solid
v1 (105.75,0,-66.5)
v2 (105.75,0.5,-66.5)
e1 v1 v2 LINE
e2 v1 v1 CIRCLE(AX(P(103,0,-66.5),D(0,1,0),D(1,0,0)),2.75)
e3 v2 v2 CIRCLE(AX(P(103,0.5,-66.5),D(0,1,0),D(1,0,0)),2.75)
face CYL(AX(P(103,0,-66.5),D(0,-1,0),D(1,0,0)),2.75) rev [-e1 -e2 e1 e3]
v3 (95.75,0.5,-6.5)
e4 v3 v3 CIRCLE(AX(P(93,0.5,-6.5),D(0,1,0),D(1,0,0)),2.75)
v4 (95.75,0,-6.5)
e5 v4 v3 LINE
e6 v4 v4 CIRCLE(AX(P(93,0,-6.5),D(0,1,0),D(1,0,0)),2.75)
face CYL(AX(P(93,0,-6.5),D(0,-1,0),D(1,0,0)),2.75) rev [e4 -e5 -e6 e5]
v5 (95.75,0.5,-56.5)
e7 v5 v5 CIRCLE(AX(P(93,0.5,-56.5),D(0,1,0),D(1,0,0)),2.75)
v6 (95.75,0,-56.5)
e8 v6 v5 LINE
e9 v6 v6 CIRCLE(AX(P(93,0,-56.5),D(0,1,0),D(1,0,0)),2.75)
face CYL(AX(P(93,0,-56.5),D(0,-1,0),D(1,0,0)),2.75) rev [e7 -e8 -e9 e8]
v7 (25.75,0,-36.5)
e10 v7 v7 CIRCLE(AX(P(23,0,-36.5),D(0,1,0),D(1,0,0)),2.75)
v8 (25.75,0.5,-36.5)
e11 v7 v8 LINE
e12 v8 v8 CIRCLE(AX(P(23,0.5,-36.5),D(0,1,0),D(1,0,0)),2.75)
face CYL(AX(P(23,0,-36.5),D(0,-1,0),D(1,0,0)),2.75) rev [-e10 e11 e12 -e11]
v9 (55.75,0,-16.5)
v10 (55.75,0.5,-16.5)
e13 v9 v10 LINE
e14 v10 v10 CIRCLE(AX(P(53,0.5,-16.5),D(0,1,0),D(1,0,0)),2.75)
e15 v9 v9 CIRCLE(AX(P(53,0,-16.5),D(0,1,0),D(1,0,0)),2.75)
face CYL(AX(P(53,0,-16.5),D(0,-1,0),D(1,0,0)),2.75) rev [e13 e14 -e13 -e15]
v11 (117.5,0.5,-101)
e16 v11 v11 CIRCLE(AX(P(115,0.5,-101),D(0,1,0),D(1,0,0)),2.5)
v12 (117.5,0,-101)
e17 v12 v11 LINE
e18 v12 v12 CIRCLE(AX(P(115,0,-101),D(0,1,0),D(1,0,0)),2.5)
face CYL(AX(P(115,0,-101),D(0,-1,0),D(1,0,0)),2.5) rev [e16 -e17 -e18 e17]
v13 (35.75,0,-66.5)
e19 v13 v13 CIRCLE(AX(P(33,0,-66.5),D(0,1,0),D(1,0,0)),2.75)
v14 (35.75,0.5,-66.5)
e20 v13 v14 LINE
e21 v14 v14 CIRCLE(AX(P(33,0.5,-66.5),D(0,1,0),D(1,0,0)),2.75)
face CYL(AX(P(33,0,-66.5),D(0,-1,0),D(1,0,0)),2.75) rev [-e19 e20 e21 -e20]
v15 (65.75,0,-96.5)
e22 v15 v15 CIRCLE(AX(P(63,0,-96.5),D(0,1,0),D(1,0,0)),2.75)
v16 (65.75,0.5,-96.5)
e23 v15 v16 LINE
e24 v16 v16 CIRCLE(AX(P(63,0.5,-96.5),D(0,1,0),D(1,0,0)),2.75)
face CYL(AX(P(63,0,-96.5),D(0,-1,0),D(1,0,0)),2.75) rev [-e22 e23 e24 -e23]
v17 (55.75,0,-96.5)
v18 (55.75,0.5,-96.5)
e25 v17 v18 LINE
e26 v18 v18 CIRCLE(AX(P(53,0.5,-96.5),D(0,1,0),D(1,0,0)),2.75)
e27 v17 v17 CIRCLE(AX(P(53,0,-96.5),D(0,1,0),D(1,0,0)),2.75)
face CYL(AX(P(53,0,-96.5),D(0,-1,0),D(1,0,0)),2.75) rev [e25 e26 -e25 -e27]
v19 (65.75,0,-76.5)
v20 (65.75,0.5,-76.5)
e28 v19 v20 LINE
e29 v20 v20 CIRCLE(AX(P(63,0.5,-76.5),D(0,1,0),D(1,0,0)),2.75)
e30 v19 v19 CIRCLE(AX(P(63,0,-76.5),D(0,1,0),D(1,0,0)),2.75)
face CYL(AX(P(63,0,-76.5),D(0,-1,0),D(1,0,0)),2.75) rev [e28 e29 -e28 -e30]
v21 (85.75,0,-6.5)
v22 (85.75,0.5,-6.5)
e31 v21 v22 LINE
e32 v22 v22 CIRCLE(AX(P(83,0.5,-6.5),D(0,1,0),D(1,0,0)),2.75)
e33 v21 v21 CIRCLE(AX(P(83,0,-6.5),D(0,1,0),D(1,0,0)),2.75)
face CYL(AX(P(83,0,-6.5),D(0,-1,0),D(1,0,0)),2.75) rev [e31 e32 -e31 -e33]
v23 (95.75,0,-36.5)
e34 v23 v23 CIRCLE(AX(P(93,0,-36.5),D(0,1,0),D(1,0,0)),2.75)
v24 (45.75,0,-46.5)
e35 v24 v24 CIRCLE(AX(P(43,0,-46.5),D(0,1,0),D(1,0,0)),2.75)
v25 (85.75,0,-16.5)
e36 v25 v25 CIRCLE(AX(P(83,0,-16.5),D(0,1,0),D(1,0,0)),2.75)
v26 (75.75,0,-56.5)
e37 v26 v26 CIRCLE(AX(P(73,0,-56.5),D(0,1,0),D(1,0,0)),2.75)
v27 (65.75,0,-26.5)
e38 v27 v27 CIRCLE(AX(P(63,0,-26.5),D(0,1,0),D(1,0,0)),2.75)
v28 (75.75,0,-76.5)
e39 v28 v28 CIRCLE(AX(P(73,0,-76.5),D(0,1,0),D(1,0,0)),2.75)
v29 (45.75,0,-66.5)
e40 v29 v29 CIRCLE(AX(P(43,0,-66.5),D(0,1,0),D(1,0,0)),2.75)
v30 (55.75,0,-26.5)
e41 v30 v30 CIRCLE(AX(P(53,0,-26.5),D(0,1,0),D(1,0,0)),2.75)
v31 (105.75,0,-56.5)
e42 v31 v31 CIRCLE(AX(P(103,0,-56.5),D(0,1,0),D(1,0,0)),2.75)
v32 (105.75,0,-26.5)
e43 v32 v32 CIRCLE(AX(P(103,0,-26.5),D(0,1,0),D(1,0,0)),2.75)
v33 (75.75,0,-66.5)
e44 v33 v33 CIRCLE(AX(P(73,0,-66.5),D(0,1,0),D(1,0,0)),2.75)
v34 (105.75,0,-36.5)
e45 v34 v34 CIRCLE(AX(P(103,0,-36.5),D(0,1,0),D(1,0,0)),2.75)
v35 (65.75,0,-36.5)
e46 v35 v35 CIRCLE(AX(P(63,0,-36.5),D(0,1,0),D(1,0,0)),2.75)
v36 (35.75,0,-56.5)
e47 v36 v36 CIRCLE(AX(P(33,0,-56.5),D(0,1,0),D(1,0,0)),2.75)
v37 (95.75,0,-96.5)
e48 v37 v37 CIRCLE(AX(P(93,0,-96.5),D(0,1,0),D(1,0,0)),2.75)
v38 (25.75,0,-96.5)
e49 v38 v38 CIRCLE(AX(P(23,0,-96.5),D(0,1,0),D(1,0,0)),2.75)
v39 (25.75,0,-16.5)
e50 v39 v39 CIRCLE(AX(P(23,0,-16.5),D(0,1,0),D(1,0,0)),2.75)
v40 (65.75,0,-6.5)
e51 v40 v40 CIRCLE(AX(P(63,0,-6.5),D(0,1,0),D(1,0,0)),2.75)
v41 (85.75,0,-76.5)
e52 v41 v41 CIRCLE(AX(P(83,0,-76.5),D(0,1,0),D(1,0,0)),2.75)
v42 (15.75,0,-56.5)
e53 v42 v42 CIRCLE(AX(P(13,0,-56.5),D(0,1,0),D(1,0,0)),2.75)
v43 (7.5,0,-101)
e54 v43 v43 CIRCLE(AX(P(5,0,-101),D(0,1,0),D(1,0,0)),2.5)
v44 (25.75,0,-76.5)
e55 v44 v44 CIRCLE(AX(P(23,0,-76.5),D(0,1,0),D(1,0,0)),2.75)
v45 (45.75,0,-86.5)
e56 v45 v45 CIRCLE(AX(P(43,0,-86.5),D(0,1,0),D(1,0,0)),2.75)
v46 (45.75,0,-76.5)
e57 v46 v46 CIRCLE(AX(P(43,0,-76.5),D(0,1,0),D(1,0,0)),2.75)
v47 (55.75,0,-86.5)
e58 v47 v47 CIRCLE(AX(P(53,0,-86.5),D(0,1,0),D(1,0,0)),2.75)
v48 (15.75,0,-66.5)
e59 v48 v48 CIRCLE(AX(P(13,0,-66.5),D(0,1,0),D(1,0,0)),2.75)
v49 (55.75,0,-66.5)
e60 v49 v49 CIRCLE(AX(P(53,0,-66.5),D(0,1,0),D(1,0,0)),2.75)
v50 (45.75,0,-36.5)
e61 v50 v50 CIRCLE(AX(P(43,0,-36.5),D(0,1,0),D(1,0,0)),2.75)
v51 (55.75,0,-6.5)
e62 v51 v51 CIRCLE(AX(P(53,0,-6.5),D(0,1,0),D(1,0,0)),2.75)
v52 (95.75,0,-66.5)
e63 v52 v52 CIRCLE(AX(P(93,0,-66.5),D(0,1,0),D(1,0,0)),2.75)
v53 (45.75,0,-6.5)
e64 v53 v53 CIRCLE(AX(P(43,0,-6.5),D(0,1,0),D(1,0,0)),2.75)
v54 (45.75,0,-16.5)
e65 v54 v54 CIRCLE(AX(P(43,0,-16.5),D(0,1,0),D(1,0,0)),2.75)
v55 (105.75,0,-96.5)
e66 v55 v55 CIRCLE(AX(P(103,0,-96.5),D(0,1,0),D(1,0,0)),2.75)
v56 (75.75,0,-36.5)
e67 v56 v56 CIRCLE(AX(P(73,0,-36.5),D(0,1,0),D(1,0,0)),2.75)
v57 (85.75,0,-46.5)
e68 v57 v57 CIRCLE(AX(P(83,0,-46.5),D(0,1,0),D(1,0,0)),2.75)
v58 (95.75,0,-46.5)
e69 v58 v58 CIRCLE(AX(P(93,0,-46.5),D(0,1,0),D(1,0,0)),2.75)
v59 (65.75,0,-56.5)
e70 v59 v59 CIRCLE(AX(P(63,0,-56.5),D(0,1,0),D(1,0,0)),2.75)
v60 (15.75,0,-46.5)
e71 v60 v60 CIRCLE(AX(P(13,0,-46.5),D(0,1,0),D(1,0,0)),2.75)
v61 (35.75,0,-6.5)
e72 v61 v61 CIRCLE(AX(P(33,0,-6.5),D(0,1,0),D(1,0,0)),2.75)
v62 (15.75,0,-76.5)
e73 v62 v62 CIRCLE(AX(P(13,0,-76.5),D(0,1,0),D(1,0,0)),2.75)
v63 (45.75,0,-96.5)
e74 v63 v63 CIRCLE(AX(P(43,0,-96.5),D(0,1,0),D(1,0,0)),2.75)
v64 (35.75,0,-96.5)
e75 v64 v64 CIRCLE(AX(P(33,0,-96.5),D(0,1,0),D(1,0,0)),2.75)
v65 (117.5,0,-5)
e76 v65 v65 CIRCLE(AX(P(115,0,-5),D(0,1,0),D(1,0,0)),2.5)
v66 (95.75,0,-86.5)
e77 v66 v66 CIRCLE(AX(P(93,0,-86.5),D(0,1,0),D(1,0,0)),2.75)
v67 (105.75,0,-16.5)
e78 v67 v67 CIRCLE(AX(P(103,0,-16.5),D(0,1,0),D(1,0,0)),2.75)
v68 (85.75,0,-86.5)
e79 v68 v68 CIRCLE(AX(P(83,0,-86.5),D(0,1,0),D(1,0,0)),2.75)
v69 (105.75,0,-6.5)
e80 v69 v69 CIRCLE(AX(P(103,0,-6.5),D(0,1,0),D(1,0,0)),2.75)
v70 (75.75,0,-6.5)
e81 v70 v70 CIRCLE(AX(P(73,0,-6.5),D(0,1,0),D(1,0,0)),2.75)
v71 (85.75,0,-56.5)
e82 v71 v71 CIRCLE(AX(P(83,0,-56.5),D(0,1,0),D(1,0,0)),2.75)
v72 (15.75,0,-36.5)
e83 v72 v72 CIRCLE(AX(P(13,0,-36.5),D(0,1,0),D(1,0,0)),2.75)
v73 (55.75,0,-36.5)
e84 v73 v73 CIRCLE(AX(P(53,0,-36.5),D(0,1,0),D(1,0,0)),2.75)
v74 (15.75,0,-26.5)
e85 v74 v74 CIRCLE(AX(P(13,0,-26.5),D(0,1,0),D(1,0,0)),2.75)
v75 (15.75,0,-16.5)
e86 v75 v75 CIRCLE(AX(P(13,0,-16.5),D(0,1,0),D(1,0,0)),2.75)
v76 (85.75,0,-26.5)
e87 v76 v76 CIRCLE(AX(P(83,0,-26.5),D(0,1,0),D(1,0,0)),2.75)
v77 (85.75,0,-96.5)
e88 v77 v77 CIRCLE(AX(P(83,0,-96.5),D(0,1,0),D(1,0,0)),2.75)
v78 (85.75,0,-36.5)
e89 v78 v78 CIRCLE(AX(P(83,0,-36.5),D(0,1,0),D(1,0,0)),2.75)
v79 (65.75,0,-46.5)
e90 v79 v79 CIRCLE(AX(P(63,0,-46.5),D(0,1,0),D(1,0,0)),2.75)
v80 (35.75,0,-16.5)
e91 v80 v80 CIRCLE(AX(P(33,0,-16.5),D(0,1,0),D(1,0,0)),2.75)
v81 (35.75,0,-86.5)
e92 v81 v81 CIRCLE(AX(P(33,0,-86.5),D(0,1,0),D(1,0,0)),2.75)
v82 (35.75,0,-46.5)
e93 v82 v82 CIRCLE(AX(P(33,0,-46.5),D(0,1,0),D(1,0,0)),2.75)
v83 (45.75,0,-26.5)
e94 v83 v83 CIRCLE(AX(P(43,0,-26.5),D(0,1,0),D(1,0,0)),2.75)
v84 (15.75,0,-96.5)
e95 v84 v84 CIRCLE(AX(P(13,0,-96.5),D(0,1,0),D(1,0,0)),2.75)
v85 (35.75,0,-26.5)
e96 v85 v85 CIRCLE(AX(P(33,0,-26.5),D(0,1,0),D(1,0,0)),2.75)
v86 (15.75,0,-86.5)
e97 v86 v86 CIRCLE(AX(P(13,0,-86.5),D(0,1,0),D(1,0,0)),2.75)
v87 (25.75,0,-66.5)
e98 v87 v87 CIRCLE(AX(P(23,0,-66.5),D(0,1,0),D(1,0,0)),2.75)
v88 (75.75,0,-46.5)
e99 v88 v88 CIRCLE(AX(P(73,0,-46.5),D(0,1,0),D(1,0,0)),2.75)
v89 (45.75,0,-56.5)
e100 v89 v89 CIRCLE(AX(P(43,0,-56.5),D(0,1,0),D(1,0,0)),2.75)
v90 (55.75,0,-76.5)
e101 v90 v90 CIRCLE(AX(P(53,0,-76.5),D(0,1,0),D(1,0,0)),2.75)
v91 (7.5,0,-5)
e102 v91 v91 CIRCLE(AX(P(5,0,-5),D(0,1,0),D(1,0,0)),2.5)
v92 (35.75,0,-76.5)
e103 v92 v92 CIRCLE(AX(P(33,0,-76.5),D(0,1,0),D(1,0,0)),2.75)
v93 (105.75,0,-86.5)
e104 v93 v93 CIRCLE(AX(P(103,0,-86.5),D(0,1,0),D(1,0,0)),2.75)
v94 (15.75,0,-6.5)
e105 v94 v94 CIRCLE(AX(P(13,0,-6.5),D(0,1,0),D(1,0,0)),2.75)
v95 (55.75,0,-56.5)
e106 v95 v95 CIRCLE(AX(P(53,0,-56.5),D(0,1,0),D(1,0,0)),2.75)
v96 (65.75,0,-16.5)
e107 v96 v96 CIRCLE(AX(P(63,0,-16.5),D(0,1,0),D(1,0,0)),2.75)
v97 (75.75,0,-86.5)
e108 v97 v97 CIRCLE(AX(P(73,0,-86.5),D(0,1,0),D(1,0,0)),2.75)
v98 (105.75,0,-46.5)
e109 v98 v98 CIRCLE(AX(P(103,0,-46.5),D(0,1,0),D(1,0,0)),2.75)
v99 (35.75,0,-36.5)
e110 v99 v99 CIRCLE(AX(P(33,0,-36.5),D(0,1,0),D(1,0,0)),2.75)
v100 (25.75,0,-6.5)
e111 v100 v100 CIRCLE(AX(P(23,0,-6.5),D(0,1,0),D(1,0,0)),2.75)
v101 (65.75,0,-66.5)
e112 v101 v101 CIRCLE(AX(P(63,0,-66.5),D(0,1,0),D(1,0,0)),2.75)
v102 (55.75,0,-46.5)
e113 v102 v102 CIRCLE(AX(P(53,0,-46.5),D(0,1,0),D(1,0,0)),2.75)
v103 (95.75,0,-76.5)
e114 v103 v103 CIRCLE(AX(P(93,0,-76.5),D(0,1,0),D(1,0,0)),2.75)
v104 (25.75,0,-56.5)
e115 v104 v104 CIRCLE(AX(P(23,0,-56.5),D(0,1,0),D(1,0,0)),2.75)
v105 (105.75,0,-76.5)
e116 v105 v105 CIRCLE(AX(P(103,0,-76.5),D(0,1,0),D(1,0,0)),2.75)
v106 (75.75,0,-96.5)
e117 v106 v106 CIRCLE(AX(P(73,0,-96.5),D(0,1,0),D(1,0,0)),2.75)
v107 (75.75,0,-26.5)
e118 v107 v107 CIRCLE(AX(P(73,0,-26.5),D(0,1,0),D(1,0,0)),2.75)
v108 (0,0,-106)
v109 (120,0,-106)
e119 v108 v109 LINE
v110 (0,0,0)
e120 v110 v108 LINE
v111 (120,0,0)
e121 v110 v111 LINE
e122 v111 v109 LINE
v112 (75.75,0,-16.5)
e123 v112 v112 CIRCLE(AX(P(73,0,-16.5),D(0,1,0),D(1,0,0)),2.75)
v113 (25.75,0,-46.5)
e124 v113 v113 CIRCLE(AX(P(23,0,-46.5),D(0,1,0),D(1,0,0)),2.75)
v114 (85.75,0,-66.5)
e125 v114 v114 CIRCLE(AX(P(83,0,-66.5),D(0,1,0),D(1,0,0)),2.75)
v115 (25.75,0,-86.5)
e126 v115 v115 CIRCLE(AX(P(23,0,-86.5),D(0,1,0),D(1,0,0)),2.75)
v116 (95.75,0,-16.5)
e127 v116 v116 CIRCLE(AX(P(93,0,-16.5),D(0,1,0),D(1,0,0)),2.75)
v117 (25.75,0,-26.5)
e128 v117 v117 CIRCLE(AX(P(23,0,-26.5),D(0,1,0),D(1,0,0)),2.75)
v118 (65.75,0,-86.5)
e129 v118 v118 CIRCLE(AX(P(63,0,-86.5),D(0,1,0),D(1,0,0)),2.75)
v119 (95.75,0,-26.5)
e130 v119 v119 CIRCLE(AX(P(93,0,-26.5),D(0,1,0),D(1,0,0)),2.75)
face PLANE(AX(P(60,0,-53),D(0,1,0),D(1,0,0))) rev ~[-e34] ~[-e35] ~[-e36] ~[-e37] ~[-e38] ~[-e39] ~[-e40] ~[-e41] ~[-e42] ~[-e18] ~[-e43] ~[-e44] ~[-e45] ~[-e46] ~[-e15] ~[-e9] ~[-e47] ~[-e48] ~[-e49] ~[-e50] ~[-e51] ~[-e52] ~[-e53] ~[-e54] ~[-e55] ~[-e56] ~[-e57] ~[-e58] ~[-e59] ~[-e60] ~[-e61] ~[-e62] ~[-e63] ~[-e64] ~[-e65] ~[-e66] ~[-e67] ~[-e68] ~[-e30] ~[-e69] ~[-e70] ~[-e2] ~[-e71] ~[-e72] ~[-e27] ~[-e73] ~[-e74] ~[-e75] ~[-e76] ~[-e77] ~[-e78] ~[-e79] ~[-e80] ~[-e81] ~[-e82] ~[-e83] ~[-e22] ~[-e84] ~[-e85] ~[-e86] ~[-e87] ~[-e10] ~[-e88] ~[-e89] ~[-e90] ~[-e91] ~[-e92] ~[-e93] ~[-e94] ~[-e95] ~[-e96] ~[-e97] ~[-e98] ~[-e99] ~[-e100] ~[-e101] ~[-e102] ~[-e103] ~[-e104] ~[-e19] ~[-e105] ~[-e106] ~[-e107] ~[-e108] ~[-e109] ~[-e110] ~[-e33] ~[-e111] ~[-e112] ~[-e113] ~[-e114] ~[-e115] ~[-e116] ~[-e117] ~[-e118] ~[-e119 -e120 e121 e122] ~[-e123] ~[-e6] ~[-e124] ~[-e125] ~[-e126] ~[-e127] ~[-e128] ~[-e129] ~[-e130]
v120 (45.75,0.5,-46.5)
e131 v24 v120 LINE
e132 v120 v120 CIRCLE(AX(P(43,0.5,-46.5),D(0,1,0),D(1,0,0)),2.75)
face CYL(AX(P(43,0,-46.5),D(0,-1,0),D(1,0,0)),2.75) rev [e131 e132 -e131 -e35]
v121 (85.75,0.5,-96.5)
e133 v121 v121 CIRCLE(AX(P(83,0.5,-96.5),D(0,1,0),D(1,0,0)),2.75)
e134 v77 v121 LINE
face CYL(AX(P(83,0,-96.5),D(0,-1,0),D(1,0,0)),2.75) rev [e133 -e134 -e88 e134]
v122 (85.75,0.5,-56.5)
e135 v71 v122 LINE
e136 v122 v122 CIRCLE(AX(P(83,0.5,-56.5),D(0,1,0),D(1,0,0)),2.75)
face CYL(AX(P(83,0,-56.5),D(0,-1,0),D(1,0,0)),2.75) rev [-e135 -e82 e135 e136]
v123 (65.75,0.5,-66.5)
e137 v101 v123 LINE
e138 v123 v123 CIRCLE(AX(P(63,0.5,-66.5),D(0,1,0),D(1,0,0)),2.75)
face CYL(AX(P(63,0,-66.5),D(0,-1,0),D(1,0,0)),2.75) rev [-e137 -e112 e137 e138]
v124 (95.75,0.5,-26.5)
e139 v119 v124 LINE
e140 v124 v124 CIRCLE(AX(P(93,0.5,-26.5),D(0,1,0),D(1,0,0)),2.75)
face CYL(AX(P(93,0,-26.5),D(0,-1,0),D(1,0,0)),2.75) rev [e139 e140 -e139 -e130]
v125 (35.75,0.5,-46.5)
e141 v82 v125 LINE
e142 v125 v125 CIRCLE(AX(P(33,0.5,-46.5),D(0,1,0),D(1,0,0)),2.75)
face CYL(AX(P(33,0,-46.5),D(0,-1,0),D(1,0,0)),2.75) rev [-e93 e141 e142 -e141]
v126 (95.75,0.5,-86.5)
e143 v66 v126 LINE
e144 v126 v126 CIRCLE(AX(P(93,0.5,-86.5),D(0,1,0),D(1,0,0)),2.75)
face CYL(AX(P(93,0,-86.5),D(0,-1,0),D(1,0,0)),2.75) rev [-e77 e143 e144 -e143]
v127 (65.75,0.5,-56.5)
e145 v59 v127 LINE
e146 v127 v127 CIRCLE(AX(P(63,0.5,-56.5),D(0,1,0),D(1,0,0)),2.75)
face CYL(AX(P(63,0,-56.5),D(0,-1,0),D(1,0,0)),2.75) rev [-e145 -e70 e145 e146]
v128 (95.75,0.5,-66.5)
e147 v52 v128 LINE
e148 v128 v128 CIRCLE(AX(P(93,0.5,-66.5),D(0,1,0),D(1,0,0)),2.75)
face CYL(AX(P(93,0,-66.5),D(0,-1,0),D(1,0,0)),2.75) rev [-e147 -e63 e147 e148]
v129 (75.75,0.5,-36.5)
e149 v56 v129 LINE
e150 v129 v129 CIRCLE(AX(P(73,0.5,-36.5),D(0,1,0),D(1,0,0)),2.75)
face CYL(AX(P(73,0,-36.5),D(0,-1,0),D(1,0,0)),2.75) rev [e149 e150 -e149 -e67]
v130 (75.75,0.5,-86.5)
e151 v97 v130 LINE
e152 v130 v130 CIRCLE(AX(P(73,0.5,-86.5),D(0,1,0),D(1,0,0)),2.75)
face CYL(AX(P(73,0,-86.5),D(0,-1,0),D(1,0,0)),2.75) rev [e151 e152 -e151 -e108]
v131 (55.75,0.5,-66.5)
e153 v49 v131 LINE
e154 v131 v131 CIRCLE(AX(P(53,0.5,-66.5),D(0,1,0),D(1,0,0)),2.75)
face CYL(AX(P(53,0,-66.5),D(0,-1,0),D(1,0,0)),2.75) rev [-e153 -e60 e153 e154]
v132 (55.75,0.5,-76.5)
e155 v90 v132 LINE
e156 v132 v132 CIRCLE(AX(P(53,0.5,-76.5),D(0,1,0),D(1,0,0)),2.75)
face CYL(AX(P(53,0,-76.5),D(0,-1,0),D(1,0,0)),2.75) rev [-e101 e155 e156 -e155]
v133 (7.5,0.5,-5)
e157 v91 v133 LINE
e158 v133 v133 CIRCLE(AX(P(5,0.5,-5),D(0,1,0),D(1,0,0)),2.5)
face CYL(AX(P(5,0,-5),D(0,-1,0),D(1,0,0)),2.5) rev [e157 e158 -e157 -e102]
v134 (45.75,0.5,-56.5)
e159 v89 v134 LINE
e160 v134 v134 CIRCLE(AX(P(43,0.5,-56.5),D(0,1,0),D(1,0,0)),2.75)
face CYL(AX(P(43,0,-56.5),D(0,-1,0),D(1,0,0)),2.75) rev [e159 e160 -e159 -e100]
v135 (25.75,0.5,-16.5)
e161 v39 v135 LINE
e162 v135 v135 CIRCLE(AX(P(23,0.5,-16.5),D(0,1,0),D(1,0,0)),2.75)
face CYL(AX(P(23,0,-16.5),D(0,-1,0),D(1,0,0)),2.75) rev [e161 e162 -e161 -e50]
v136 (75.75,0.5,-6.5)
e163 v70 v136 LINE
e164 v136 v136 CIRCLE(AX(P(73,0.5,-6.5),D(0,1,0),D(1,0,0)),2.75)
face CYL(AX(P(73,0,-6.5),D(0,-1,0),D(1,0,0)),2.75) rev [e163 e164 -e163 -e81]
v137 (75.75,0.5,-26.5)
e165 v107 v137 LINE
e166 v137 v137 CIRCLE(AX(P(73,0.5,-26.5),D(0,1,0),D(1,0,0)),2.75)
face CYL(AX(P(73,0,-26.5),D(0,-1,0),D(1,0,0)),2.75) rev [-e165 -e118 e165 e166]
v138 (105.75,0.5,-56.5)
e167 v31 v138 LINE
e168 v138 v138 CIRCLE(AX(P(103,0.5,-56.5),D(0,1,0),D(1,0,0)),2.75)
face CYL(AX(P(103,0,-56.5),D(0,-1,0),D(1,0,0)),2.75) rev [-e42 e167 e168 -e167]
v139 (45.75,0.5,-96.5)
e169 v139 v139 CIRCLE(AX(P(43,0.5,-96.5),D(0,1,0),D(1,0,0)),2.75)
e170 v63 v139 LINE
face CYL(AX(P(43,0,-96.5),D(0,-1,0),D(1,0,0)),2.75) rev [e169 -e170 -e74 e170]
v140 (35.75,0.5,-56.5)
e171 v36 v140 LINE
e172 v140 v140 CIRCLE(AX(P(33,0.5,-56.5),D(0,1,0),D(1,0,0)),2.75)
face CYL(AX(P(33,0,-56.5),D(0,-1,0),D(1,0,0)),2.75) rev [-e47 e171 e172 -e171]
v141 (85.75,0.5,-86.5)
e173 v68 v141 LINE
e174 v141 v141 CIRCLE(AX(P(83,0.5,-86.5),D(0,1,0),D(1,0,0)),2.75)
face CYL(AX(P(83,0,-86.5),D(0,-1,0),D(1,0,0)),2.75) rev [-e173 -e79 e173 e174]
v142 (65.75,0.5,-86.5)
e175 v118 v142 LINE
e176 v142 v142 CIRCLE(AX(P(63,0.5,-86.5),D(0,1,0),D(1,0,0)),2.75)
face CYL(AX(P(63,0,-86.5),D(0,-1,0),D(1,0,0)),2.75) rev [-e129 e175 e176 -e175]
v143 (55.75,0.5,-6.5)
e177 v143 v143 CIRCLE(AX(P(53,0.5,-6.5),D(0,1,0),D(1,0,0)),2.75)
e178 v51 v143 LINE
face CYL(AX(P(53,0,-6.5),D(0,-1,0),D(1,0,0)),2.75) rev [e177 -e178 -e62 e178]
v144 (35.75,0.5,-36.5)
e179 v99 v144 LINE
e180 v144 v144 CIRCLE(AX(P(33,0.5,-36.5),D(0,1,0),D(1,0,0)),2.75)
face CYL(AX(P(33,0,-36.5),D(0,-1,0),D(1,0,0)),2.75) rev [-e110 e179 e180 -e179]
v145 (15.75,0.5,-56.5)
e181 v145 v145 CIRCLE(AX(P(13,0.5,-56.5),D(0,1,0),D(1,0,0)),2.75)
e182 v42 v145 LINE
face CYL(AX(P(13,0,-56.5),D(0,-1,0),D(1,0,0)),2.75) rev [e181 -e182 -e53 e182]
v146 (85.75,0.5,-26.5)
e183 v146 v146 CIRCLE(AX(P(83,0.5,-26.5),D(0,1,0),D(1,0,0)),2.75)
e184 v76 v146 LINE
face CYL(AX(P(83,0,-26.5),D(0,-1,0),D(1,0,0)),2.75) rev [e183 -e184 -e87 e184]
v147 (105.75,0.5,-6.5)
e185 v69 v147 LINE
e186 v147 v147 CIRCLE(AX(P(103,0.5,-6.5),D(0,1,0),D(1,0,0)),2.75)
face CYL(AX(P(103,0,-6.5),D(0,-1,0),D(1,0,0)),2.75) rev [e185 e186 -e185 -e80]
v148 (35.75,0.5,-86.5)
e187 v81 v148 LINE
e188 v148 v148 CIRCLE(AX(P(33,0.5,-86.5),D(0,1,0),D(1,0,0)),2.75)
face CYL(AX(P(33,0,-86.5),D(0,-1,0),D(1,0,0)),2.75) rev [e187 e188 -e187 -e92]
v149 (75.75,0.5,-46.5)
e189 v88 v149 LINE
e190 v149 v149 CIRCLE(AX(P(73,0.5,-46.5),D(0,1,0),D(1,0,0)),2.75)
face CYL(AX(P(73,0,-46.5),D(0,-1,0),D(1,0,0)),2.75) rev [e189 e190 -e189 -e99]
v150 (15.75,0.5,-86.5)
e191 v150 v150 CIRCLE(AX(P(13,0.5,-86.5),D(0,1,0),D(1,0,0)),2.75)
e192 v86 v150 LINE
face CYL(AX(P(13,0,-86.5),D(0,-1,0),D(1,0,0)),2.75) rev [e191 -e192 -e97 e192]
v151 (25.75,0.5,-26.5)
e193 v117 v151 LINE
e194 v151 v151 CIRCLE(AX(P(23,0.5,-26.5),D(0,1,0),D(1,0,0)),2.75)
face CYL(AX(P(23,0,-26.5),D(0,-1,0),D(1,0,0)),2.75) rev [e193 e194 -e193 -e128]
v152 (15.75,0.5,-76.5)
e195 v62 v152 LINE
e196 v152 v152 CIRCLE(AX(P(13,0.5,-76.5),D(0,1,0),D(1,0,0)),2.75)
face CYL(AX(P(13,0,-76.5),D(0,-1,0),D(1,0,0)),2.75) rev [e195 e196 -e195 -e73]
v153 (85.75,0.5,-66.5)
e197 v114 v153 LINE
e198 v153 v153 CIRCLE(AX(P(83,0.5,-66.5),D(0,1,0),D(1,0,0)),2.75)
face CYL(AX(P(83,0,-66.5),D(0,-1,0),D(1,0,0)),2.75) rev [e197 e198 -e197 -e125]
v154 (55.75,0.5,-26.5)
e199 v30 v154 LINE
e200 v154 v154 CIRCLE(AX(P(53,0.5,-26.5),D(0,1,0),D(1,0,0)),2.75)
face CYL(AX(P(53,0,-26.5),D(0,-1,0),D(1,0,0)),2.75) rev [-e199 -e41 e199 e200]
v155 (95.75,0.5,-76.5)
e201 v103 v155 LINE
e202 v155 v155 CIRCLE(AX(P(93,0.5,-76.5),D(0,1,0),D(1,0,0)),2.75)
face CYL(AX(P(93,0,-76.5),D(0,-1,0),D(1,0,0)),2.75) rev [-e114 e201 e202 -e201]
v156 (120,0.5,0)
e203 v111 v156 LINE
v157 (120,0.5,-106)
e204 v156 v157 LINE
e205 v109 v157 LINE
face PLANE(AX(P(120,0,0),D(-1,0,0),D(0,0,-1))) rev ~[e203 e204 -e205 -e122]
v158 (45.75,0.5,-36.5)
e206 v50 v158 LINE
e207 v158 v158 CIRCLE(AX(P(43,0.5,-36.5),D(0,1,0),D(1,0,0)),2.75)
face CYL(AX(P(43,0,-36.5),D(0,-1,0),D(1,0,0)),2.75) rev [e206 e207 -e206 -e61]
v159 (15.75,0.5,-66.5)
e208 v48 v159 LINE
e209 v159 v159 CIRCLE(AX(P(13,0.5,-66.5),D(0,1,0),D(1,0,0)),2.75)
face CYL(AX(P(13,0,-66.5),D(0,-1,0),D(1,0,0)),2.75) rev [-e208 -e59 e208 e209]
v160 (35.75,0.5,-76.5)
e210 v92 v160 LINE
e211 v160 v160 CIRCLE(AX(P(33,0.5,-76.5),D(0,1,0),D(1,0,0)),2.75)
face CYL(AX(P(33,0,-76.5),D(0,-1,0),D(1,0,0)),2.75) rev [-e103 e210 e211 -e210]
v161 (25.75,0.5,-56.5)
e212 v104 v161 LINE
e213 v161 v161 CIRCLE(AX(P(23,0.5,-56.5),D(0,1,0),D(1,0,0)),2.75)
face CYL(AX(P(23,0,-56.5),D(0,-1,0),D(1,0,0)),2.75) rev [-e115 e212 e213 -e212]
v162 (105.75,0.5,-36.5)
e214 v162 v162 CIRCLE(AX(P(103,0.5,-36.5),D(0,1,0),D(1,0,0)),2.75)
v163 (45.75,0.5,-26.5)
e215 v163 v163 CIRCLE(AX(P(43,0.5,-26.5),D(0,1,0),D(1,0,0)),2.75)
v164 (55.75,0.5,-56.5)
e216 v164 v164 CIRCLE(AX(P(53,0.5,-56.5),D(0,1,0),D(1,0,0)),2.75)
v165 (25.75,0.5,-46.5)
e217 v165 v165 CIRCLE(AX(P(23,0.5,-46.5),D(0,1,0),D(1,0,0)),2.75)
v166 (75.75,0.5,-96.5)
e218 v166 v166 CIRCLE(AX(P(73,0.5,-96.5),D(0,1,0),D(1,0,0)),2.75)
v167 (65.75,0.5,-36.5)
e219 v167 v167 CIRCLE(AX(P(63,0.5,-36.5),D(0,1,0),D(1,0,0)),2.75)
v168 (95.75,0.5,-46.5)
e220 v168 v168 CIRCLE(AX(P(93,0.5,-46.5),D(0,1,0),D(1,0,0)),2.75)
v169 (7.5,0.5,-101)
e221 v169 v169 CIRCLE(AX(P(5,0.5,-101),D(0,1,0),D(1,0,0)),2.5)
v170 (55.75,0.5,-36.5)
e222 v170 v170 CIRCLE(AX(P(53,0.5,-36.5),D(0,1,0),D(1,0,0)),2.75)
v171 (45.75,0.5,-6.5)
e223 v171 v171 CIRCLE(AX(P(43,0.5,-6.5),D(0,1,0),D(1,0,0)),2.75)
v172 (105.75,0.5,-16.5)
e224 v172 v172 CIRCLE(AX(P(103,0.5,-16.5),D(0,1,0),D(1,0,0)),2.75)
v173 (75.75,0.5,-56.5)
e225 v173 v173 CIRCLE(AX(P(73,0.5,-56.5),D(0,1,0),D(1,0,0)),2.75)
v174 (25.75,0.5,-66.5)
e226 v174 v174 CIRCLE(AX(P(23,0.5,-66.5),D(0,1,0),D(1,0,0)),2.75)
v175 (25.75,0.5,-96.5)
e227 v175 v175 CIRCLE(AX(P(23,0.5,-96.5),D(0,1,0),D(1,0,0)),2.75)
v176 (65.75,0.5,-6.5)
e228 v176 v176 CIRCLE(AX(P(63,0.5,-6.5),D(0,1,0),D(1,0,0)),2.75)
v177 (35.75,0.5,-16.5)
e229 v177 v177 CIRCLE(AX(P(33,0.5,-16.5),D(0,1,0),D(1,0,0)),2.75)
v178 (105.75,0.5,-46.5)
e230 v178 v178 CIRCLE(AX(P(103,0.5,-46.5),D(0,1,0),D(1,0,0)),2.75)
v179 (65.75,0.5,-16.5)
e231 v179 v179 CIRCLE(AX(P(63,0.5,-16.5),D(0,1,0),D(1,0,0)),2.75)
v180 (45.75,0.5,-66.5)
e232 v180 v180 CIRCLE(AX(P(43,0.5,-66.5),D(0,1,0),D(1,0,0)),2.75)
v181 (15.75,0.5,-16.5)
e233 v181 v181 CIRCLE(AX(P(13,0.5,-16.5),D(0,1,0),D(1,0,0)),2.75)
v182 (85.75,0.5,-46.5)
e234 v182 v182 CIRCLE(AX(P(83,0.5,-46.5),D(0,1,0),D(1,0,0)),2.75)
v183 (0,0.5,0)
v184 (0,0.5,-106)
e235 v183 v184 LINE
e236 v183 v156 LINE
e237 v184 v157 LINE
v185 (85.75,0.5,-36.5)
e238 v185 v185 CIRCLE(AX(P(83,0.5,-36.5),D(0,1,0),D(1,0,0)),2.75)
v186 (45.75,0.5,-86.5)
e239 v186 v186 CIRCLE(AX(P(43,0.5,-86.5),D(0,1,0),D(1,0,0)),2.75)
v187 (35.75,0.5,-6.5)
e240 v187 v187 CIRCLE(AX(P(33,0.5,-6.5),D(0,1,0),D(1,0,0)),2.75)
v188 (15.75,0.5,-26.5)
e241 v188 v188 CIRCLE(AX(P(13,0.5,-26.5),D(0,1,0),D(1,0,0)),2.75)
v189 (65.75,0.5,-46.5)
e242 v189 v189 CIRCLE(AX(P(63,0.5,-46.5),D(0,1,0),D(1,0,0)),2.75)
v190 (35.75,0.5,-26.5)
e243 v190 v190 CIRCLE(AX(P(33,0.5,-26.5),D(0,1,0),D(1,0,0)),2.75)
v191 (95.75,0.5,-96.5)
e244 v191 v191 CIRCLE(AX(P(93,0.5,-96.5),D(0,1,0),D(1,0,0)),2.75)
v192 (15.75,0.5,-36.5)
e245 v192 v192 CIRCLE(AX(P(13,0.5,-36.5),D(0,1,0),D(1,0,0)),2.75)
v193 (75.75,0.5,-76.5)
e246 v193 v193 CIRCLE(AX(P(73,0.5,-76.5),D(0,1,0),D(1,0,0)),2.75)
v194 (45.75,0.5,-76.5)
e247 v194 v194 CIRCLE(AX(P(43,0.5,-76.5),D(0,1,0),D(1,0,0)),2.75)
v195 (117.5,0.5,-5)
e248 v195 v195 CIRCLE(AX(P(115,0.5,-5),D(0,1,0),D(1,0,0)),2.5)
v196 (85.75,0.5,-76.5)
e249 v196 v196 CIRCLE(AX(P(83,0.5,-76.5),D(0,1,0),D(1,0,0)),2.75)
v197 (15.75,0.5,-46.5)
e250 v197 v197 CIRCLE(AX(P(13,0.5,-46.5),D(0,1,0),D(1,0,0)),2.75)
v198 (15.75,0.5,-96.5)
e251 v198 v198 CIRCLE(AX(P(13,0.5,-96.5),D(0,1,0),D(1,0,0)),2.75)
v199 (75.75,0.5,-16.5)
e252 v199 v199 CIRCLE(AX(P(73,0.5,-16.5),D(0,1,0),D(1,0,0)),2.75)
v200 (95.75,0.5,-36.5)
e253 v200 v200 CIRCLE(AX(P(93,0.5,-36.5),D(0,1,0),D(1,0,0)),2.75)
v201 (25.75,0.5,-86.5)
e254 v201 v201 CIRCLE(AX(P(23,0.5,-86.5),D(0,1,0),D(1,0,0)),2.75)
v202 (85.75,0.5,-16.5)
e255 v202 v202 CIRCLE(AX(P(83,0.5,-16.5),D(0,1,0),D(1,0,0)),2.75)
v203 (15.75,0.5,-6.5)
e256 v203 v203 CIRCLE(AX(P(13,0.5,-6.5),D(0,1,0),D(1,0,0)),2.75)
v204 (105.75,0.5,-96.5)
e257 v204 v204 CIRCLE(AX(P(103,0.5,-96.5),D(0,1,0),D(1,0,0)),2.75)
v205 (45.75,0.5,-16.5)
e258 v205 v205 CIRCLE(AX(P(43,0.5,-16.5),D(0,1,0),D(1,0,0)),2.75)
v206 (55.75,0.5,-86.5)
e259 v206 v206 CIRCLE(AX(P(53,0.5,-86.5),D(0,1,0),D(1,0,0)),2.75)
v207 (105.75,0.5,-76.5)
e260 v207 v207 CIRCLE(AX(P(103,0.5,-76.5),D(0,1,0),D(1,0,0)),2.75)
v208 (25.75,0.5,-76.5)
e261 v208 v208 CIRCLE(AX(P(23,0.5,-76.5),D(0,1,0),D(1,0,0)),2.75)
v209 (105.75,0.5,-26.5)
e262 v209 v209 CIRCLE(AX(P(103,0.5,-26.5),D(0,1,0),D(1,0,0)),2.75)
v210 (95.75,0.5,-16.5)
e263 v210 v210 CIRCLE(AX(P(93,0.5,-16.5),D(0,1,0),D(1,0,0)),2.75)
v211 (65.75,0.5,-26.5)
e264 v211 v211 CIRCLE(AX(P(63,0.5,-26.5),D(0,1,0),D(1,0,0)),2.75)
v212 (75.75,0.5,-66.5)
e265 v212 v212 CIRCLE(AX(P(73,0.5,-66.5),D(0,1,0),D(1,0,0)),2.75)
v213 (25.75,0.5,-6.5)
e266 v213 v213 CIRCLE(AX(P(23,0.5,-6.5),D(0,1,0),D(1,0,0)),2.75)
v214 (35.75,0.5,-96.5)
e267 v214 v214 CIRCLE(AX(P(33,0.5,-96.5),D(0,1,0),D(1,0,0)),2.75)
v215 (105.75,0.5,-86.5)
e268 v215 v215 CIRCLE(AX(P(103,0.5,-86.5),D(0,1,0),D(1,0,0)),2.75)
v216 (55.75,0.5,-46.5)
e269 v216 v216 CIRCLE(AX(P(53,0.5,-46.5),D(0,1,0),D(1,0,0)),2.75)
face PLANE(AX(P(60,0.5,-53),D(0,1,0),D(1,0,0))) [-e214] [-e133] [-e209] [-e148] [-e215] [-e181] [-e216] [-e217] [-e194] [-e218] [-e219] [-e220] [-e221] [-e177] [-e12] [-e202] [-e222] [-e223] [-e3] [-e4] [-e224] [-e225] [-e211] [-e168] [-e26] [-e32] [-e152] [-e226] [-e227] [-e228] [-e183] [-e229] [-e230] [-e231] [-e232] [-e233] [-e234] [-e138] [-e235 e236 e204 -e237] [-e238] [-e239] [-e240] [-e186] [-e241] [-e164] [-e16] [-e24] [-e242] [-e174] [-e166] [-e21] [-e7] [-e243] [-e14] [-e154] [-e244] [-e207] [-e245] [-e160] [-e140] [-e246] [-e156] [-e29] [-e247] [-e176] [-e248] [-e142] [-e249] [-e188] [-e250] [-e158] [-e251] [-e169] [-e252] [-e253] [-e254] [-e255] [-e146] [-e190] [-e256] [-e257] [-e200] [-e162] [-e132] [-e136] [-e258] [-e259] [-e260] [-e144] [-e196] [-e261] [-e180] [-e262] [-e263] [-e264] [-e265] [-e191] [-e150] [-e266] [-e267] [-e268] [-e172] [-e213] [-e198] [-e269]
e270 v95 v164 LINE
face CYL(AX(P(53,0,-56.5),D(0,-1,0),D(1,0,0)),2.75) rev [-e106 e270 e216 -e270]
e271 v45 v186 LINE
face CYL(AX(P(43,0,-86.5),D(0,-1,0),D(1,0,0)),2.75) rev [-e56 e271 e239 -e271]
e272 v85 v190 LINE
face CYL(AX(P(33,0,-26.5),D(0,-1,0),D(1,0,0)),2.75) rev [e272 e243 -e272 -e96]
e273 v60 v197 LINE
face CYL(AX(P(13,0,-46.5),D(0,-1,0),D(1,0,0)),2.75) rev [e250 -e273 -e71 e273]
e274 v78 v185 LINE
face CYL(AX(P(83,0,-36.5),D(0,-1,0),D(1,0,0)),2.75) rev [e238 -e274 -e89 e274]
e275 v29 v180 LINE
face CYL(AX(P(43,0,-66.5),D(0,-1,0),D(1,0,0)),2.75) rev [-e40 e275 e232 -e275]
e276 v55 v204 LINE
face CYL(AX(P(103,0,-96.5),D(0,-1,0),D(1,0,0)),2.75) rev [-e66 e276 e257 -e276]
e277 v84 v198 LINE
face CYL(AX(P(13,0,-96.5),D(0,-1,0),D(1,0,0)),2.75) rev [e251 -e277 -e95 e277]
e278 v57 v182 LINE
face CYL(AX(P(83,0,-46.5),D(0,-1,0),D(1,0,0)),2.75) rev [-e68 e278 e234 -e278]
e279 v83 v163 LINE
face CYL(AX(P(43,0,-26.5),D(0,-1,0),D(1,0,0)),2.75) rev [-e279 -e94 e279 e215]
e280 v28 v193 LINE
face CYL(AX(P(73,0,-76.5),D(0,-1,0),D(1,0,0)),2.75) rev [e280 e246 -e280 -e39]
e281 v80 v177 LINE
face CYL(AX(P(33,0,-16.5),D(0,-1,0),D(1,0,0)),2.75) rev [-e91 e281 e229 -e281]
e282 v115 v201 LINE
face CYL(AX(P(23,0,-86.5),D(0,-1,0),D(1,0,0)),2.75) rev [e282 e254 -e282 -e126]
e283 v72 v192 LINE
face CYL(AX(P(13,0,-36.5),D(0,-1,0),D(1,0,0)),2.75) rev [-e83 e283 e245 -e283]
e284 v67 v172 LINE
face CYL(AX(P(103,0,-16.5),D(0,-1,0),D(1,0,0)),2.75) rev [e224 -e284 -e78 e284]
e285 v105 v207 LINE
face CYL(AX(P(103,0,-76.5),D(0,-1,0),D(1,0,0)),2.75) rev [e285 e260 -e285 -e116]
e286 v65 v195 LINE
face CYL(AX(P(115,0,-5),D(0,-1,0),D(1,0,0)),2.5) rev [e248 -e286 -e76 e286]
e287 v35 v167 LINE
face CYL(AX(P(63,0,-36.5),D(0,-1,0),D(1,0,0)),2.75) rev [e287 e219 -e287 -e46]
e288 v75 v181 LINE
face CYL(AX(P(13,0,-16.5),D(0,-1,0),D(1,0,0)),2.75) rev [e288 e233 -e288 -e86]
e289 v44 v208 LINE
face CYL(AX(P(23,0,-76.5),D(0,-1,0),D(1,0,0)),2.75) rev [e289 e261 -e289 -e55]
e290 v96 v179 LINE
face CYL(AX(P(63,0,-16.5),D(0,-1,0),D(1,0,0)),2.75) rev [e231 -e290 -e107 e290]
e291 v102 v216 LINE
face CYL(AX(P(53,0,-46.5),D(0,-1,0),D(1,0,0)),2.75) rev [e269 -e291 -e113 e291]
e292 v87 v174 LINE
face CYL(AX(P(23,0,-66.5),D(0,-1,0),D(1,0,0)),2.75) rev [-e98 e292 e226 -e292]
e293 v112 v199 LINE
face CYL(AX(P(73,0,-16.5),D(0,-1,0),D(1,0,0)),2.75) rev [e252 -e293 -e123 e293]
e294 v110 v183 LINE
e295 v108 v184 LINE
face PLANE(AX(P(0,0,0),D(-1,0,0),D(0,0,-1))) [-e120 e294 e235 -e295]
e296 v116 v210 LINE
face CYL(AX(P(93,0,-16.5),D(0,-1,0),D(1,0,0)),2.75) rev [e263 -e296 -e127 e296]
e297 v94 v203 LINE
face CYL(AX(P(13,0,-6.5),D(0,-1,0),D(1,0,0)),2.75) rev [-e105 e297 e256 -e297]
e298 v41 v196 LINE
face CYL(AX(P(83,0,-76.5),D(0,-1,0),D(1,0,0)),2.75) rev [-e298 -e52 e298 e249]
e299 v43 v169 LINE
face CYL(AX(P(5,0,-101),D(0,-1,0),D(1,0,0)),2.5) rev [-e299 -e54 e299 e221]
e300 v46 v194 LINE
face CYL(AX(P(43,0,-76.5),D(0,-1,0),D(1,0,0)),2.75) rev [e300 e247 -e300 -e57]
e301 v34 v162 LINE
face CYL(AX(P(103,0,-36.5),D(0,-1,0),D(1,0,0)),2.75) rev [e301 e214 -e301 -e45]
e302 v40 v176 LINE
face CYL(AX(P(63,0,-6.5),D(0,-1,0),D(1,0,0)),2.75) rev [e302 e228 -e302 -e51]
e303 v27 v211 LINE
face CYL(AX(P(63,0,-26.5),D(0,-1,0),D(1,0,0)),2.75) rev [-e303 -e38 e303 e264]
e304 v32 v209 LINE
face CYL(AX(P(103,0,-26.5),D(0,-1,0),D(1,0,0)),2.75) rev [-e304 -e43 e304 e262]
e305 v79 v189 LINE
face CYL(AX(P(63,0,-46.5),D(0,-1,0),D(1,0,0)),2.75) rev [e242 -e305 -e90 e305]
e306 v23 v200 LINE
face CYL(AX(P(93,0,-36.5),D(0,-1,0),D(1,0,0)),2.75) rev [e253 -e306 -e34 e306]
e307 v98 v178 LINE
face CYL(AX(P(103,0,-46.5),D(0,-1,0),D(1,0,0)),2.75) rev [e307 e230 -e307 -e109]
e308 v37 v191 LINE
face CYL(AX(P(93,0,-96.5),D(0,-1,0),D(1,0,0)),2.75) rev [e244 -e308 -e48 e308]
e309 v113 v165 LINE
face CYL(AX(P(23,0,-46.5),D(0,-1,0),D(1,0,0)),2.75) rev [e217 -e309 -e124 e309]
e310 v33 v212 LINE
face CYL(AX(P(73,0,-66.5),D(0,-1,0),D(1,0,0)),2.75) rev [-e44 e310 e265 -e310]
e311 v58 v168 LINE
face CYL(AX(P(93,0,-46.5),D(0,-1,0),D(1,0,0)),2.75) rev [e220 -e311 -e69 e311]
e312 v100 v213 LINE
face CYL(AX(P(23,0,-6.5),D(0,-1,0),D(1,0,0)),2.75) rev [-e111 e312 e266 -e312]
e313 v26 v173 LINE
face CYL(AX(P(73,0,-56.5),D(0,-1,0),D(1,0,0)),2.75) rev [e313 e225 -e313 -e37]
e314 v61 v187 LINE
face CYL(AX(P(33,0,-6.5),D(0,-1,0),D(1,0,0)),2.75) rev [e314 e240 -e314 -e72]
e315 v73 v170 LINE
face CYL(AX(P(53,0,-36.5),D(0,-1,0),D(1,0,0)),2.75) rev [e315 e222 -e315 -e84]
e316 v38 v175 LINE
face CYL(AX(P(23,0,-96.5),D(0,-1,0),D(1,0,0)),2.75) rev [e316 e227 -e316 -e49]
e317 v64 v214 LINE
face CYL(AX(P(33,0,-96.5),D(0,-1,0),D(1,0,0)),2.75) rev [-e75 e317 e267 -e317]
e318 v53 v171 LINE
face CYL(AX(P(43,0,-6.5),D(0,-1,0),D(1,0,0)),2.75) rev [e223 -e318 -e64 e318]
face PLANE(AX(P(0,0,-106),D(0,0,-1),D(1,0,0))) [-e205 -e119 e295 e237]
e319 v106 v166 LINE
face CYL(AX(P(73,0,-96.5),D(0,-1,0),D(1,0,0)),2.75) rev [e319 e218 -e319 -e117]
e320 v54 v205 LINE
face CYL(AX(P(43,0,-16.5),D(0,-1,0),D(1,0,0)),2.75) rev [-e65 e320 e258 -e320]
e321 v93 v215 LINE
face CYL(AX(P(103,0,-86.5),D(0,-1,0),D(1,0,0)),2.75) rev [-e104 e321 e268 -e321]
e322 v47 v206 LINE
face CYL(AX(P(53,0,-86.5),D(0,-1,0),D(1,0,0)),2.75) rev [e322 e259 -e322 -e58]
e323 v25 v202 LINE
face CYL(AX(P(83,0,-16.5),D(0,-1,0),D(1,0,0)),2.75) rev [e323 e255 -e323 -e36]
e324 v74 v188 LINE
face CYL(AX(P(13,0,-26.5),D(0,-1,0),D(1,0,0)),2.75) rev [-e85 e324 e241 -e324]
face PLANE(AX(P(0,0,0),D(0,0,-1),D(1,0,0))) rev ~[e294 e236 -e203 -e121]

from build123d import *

# Parameters (mm, degrees)
SKETCH1_W           = 120
SKETCH1_H           = 106
SKETCH1_R           = 2.75
SKETCH1_R_2         = 2.5
BOSS_EXTRUDE1_DEPTH = 0.5


with BuildPart() as part:
    # Sketch1 → Boss-Extrude1 (new body)
    with BuildSketch(Plane(origin=(0, 0, 0), x_dir=(1, 0, 0), z_dir=(0, 1, 0))):
        with Locations((60, 53)):
            Rectangle(SKETCH1_W, SKETCH1_H)
        with Locations((13, 36.5)):
            Circle(SKETCH1_R, mode=Mode.SUBTRACT)
        with Locations((23, 36.5)):
            Circle(SKETCH1_R, mode=Mode.SUBTRACT)
        with Locations((13, 6.5)):
            Circle(SKETCH1_R, mode=Mode.SUBTRACT)
        with Locations((5, 5)):
            Circle(SKETCH1_R_2, mode=Mode.SUBTRACT)
        with Locations((5, 101)):
            Circle(SKETCH1_R_2, mode=Mode.SUBTRACT)
        with Locations((115, 101)):
            Circle(SKETCH1_R_2, mode=Mode.SUBTRACT)
        with Locations((115, 5)):
            Circle(SKETCH1_R_2, mode=Mode.SUBTRACT)
        with Locations((23, 6.5)):
            Circle(SKETCH1_R, mode=Mode.SUBTRACT)
        with Locations((33, 6.5)):
            Circle(SKETCH1_R, mode=Mode.SUBTRACT)
        with Locations((23, 16.5)):
            Circle(SKETCH1_R, mode=Mode.SUBTRACT)
        with Locations((33, 16.5)):
            Circle(SKETCH1_R, mode=Mode.SUBTRACT)
        with Locations((23, 26.5)):
            Circle(SKETCH1_R, mode=Mode.SUBTRACT)
        with Locations((33, 26.5)):
            Circle(SKETCH1_R, mode=Mode.SUBTRACT)
        with Locations((13, 16.5)):
            Circle(SKETCH1_R, mode=Mode.SUBTRACT)
        with Locations((13, 26.5)):
            Circle(SKETCH1_R, mode=Mode.SUBTRACT)
        with Locations((33, 36.5)):
            Circle(SKETCH1_R, mode=Mode.SUBTRACT)
        with Locations((13, 46.5)):
            Circle(SKETCH1_R, mode=Mode.SUBTRACT)
        with Locations((23, 46.5)):
            Circle(SKETCH1_R, mode=Mode.SUBTRACT)
        with Locations((33, 46.5)):
            Circle(SKETCH1_R, mode=Mode.SUBTRACT)
        with Locations((13, 56.5)):
            Circle(SKETCH1_R, mode=Mode.SUBTRACT)
        with Locations((23, 56.5)):
            Circle(SKETCH1_R, mode=Mode.SUBTRACT)
        with Locations((33, 56.5)):
            Circle(SKETCH1_R, mode=Mode.SUBTRACT)
        with Locations((13, 66.5)):
            Circle(SKETCH1_R, mode=Mode.SUBTRACT)
        with Locations((23, 66.5)):
            Circle(SKETCH1_R, mode=Mode.SUBTRACT)
        with Locations((33, 66.5)):
            Circle(SKETCH1_R, mode=Mode.SUBTRACT)
        with Locations((13, 76.5)):
            Circle(SKETCH1_R, mode=Mode.SUBTRACT)
        with Locations((23, 76.5)):
            Circle(SKETCH1_R, mode=Mode.SUBTRACT)
        with Locations((33, 76.5)):
            Circle(SKETCH1_R, mode=Mode.SUBTRACT)
        with Locations((13, 86.5)):
            Circle(SKETCH1_R, mode=Mode.SUBTRACT)
        with Locations((23, 86.5)):
            Circle(SKETCH1_R, mode=Mode.SUBTRACT)
        with Locations((33, 86.5)):
            Circle(SKETCH1_R, mode=Mode.SUBTRACT)
        with Locations((13, 96.5)):
            Circle(SKETCH1_R, mode=Mode.SUBTRACT)
        with Locations((23, 96.5)):
            Circle(SKETCH1_R, mode=Mode.SUBTRACT)
        with Locations((33, 96.5)):
            Circle(SKETCH1_R, mode=Mode.SUBTRACT)
        with Locations((43, 6.5)):
            Circle(SKETCH1_R, mode=Mode.SUBTRACT)
        with Locations((53, 6.5)):
            Circle(SKETCH1_R, mode=Mode.SUBTRACT)
        with Locations((63, 6.5)):
            Circle(SKETCH1_R, mode=Mode.SUBTRACT)
        with Locations((73, 6.5)):
            Circle(SKETCH1_R, mode=Mode.SUBTRACT)
        with Locations((83, 6.5)):
            Circle(SKETCH1_R, mode=Mode.SUBTRACT)
        with Locations((93, 6.5)):
            Circle(SKETCH1_R, mode=Mode.SUBTRACT)
        with Locations((103, 6.5)):
            Circle(SKETCH1_R, mode=Mode.SUBTRACT)
        with Locations((43, 16.5)):
            Circle(SKETCH1_R, mode=Mode.SUBTRACT)
        with Locations((53, 16.5)):
            Circle(SKETCH1_R, mode=Mode.SUBTRACT)
        with Locations((63, 16.5)):
            Circle(SKETCH1_R, mode=Mode.SUBTRACT)
        with Locations((73, 16.5)):
            Circle(SKETCH1_R, mode=Mode.SUBTRACT)
        with Locations((83, 16.5)):
            Circle(SKETCH1_R, mode=Mode.SUBTRACT)
        with Locations((93, 16.5)):
            Circle(SKETCH1_R, mode=Mode.SUBTRACT)
        with Locations((103, 16.5)):
            Circle(SKETCH1_R, mode=Mode.SUBTRACT)
        with Locations((43, 26.5)):
            Circle(SKETCH1_R, mode=Mode.SUBTRACT)
        with Locations((53, 26.5)):
            Circle(SKETCH1_R, mode=Mode.SUBTRACT)
        with Locations((63, 26.5)):
            Circle(SKETCH1_R, mode=Mode.SUBTRACT)
        with Locations((73, 26.5)):
            Circle(SKETCH1_R, mode=Mode.SUBTRACT)
        with Locations((83, 26.5)):
            Circle(SKETCH1_R, mode=Mode.SUBTRACT)
        with Locations((93, 26.5)):
            Circle(SKETCH1_R, mode=Mode.SUBTRACT)
        with Locations((103, 26.5)):
            Circle(SKETCH1_R, mode=Mode.SUBTRACT)
        with Locations((43, 36.5)):
            Circle(SKETCH1_R, mode=Mode.SUBTRACT)
        with Locations((53, 36.5)):
            Circle(SKETCH1_R, mode=Mode.SUBTRACT)
        with Locations((63, 36.5)):
            Circle(SKETCH1_R, mode=Mode.SUBTRACT)
        with Locations((73, 36.5)):
            Circle(SKETCH1_R, mode=Mode.SUBTRACT)
        with Locations((83, 36.5)):
            Circle(SKETCH1_R, mode=Mode.SUBTRACT)
        with Locations((93, 36.5)):
            Circle(SKETCH1_R, mode=Mode.SUBTRACT)
        with Locations((103, 36.5)):
            Circle(SKETCH1_R, mode=Mode.SUBTRACT)
        with Locations((43, 46.5)):
            Circle(SKETCH1_R, mode=Mode.SUBTRACT)
        with Locations((53, 46.5)):
            Circle(SKETCH1_R, mode=Mode.SUBTRACT)
        with Locations((63, 46.5)):
            Circle(SKETCH1_R, mode=Mode.SUBTRACT)
        with Locations((73, 46.5)):
            Circle(SKETCH1_R, mode=Mode.SUBTRACT)
        with Locations((83, 46.5)):
            Circle(SKETCH1_R, mode=Mode.SUBTRACT)
        with Locations((93, 46.5)):
            Circle(SKETCH1_R, mode=Mode.SUBTRACT)
        with Locations((103, 46.5)):
            Circle(SKETCH1_R, mode=Mode.SUBTRACT)
        with Locations((43, 56.5)):
            Circle(SKETCH1_R, mode=Mode.SUBTRACT)
        with Locations((53, 56.5)):
            Circle(SKETCH1_R, mode=Mode.SUBTRACT)
        with Locations((63, 56.5)):
            Circle(SKETCH1_R, mode=Mode.SUBTRACT)
        with Locations((73, 56.5)):
            Circle(SKETCH1_R, mode=Mode.SUBTRACT)
        with Locations((83, 56.5)):
            Circle(SKETCH1_R, mode=Mode.SUBTRACT)
        with Locations((93, 56.5)):
            Circle(SKETCH1_R, mode=Mode.SUBTRACT)
        with Locations((103, 56.5)):
            Circle(SKETCH1_R, mode=Mode.SUBTRACT)
        with Locations((43, 66.5)):
            Circle(SKETCH1_R, mode=Mode.SUBTRACT)
        with Locations((53, 66.5)):
            Circle(SKETCH1_R, mode=Mode.SUBTRACT)
        with Locations((63, 66.5)):
            Circle(SKETCH1_R, mode=Mode.SUBTRACT)
        with Locations((73, 66.5)):
            Circle(SKETCH1_R, mode=Mode.SUBTRACT)
        with Locations((83, 66.5)):
            Circle(SKETCH1_R, mode=Mode.SUBTRACT)
        with Locations((93, 66.5)):
            Circle(SKETCH1_R, mode=Mode.SUBTRACT)
        with Locations((103, 66.5)):
            Circle(SKETCH1_R, mode=Mode.SUBTRACT)
        with Locations((43, 76.5)):
            Circle(SKETCH1_R, mode=Mode.SUBTRACT)
        with Locations((53, 76.5)):
            Circle(SKETCH1_R, mode=Mode.SUBTRACT)
        with Locations((63, 76.5)):
            Circle(SKETCH1_R, mode=Mode.SUBTRACT)
        with Locations((73, 76.5)):
            Circle(SKETCH1_R, mode=Mode.SUBTRACT)
        with Locations((83, 76.5)):
            Circle(SKETCH1_R, mode=Mode.SUBTRACT)
        with Locations((93, 76.5)):
            Circle(SKETCH1_R, mode=Mode.SUBTRACT)
        with Locations((103, 76.5)):
            Circle(SKETCH1_R, mode=Mode.SUBTRACT)
        with Locations((43, 86.5)):
            Circle(SKETCH1_R, mode=Mode.SUBTRACT)
        with Locations((53, 86.5)):
            Circle(SKETCH1_R, mode=Mode.SUBTRACT)
        with Locations((63, 86.5)):
            Circle(SKETCH1_R, mode=Mode.SUBTRACT)
        with Locations((73, 86.5)):
            Circle(SKETCH1_R, mode=Mode.SUBTRACT)
        with Locations((83, 86.5)):
            Circle(SKETCH1_R, mode=Mode.SUBTRACT)
        with Locations((93, 86.5)):
            Circle(SKETCH1_R, mode=Mode.SUBTRACT)
        with Locations((103, 86.5)):
            Circle(SKETCH1_R, mode=Mode.SUBTRACT)
        with Locations((43, 96.5)):
            Circle(SKETCH1_R, mode=Mode.SUBTRACT)
        with Locations((53, 96.5)):
            Circle(SKETCH1_R, mode=Mode.SUBTRACT)
        with Locations((63, 96.5)):
            Circle(SKETCH1_R, mode=Mode.SUBTRACT)
        with Locations((73, 96.5)):
            Circle(SKETCH1_R, mode=Mode.SUBTRACT)
        with Locations((83, 96.5)):
            Circle(SKETCH1_R, mode=Mode.SUBTRACT)
        with Locations((93, 96.5)):
            Circle(SKETCH1_R, mode=Mode.SUBTRACT)
        with Locations((103, 96.5)):
            Circle(SKETCH1_R, mode=Mode.SUBTRACT)
    extrude(amount=BOSS_EXTRUDE1_DEPTH)


solid = part.part
